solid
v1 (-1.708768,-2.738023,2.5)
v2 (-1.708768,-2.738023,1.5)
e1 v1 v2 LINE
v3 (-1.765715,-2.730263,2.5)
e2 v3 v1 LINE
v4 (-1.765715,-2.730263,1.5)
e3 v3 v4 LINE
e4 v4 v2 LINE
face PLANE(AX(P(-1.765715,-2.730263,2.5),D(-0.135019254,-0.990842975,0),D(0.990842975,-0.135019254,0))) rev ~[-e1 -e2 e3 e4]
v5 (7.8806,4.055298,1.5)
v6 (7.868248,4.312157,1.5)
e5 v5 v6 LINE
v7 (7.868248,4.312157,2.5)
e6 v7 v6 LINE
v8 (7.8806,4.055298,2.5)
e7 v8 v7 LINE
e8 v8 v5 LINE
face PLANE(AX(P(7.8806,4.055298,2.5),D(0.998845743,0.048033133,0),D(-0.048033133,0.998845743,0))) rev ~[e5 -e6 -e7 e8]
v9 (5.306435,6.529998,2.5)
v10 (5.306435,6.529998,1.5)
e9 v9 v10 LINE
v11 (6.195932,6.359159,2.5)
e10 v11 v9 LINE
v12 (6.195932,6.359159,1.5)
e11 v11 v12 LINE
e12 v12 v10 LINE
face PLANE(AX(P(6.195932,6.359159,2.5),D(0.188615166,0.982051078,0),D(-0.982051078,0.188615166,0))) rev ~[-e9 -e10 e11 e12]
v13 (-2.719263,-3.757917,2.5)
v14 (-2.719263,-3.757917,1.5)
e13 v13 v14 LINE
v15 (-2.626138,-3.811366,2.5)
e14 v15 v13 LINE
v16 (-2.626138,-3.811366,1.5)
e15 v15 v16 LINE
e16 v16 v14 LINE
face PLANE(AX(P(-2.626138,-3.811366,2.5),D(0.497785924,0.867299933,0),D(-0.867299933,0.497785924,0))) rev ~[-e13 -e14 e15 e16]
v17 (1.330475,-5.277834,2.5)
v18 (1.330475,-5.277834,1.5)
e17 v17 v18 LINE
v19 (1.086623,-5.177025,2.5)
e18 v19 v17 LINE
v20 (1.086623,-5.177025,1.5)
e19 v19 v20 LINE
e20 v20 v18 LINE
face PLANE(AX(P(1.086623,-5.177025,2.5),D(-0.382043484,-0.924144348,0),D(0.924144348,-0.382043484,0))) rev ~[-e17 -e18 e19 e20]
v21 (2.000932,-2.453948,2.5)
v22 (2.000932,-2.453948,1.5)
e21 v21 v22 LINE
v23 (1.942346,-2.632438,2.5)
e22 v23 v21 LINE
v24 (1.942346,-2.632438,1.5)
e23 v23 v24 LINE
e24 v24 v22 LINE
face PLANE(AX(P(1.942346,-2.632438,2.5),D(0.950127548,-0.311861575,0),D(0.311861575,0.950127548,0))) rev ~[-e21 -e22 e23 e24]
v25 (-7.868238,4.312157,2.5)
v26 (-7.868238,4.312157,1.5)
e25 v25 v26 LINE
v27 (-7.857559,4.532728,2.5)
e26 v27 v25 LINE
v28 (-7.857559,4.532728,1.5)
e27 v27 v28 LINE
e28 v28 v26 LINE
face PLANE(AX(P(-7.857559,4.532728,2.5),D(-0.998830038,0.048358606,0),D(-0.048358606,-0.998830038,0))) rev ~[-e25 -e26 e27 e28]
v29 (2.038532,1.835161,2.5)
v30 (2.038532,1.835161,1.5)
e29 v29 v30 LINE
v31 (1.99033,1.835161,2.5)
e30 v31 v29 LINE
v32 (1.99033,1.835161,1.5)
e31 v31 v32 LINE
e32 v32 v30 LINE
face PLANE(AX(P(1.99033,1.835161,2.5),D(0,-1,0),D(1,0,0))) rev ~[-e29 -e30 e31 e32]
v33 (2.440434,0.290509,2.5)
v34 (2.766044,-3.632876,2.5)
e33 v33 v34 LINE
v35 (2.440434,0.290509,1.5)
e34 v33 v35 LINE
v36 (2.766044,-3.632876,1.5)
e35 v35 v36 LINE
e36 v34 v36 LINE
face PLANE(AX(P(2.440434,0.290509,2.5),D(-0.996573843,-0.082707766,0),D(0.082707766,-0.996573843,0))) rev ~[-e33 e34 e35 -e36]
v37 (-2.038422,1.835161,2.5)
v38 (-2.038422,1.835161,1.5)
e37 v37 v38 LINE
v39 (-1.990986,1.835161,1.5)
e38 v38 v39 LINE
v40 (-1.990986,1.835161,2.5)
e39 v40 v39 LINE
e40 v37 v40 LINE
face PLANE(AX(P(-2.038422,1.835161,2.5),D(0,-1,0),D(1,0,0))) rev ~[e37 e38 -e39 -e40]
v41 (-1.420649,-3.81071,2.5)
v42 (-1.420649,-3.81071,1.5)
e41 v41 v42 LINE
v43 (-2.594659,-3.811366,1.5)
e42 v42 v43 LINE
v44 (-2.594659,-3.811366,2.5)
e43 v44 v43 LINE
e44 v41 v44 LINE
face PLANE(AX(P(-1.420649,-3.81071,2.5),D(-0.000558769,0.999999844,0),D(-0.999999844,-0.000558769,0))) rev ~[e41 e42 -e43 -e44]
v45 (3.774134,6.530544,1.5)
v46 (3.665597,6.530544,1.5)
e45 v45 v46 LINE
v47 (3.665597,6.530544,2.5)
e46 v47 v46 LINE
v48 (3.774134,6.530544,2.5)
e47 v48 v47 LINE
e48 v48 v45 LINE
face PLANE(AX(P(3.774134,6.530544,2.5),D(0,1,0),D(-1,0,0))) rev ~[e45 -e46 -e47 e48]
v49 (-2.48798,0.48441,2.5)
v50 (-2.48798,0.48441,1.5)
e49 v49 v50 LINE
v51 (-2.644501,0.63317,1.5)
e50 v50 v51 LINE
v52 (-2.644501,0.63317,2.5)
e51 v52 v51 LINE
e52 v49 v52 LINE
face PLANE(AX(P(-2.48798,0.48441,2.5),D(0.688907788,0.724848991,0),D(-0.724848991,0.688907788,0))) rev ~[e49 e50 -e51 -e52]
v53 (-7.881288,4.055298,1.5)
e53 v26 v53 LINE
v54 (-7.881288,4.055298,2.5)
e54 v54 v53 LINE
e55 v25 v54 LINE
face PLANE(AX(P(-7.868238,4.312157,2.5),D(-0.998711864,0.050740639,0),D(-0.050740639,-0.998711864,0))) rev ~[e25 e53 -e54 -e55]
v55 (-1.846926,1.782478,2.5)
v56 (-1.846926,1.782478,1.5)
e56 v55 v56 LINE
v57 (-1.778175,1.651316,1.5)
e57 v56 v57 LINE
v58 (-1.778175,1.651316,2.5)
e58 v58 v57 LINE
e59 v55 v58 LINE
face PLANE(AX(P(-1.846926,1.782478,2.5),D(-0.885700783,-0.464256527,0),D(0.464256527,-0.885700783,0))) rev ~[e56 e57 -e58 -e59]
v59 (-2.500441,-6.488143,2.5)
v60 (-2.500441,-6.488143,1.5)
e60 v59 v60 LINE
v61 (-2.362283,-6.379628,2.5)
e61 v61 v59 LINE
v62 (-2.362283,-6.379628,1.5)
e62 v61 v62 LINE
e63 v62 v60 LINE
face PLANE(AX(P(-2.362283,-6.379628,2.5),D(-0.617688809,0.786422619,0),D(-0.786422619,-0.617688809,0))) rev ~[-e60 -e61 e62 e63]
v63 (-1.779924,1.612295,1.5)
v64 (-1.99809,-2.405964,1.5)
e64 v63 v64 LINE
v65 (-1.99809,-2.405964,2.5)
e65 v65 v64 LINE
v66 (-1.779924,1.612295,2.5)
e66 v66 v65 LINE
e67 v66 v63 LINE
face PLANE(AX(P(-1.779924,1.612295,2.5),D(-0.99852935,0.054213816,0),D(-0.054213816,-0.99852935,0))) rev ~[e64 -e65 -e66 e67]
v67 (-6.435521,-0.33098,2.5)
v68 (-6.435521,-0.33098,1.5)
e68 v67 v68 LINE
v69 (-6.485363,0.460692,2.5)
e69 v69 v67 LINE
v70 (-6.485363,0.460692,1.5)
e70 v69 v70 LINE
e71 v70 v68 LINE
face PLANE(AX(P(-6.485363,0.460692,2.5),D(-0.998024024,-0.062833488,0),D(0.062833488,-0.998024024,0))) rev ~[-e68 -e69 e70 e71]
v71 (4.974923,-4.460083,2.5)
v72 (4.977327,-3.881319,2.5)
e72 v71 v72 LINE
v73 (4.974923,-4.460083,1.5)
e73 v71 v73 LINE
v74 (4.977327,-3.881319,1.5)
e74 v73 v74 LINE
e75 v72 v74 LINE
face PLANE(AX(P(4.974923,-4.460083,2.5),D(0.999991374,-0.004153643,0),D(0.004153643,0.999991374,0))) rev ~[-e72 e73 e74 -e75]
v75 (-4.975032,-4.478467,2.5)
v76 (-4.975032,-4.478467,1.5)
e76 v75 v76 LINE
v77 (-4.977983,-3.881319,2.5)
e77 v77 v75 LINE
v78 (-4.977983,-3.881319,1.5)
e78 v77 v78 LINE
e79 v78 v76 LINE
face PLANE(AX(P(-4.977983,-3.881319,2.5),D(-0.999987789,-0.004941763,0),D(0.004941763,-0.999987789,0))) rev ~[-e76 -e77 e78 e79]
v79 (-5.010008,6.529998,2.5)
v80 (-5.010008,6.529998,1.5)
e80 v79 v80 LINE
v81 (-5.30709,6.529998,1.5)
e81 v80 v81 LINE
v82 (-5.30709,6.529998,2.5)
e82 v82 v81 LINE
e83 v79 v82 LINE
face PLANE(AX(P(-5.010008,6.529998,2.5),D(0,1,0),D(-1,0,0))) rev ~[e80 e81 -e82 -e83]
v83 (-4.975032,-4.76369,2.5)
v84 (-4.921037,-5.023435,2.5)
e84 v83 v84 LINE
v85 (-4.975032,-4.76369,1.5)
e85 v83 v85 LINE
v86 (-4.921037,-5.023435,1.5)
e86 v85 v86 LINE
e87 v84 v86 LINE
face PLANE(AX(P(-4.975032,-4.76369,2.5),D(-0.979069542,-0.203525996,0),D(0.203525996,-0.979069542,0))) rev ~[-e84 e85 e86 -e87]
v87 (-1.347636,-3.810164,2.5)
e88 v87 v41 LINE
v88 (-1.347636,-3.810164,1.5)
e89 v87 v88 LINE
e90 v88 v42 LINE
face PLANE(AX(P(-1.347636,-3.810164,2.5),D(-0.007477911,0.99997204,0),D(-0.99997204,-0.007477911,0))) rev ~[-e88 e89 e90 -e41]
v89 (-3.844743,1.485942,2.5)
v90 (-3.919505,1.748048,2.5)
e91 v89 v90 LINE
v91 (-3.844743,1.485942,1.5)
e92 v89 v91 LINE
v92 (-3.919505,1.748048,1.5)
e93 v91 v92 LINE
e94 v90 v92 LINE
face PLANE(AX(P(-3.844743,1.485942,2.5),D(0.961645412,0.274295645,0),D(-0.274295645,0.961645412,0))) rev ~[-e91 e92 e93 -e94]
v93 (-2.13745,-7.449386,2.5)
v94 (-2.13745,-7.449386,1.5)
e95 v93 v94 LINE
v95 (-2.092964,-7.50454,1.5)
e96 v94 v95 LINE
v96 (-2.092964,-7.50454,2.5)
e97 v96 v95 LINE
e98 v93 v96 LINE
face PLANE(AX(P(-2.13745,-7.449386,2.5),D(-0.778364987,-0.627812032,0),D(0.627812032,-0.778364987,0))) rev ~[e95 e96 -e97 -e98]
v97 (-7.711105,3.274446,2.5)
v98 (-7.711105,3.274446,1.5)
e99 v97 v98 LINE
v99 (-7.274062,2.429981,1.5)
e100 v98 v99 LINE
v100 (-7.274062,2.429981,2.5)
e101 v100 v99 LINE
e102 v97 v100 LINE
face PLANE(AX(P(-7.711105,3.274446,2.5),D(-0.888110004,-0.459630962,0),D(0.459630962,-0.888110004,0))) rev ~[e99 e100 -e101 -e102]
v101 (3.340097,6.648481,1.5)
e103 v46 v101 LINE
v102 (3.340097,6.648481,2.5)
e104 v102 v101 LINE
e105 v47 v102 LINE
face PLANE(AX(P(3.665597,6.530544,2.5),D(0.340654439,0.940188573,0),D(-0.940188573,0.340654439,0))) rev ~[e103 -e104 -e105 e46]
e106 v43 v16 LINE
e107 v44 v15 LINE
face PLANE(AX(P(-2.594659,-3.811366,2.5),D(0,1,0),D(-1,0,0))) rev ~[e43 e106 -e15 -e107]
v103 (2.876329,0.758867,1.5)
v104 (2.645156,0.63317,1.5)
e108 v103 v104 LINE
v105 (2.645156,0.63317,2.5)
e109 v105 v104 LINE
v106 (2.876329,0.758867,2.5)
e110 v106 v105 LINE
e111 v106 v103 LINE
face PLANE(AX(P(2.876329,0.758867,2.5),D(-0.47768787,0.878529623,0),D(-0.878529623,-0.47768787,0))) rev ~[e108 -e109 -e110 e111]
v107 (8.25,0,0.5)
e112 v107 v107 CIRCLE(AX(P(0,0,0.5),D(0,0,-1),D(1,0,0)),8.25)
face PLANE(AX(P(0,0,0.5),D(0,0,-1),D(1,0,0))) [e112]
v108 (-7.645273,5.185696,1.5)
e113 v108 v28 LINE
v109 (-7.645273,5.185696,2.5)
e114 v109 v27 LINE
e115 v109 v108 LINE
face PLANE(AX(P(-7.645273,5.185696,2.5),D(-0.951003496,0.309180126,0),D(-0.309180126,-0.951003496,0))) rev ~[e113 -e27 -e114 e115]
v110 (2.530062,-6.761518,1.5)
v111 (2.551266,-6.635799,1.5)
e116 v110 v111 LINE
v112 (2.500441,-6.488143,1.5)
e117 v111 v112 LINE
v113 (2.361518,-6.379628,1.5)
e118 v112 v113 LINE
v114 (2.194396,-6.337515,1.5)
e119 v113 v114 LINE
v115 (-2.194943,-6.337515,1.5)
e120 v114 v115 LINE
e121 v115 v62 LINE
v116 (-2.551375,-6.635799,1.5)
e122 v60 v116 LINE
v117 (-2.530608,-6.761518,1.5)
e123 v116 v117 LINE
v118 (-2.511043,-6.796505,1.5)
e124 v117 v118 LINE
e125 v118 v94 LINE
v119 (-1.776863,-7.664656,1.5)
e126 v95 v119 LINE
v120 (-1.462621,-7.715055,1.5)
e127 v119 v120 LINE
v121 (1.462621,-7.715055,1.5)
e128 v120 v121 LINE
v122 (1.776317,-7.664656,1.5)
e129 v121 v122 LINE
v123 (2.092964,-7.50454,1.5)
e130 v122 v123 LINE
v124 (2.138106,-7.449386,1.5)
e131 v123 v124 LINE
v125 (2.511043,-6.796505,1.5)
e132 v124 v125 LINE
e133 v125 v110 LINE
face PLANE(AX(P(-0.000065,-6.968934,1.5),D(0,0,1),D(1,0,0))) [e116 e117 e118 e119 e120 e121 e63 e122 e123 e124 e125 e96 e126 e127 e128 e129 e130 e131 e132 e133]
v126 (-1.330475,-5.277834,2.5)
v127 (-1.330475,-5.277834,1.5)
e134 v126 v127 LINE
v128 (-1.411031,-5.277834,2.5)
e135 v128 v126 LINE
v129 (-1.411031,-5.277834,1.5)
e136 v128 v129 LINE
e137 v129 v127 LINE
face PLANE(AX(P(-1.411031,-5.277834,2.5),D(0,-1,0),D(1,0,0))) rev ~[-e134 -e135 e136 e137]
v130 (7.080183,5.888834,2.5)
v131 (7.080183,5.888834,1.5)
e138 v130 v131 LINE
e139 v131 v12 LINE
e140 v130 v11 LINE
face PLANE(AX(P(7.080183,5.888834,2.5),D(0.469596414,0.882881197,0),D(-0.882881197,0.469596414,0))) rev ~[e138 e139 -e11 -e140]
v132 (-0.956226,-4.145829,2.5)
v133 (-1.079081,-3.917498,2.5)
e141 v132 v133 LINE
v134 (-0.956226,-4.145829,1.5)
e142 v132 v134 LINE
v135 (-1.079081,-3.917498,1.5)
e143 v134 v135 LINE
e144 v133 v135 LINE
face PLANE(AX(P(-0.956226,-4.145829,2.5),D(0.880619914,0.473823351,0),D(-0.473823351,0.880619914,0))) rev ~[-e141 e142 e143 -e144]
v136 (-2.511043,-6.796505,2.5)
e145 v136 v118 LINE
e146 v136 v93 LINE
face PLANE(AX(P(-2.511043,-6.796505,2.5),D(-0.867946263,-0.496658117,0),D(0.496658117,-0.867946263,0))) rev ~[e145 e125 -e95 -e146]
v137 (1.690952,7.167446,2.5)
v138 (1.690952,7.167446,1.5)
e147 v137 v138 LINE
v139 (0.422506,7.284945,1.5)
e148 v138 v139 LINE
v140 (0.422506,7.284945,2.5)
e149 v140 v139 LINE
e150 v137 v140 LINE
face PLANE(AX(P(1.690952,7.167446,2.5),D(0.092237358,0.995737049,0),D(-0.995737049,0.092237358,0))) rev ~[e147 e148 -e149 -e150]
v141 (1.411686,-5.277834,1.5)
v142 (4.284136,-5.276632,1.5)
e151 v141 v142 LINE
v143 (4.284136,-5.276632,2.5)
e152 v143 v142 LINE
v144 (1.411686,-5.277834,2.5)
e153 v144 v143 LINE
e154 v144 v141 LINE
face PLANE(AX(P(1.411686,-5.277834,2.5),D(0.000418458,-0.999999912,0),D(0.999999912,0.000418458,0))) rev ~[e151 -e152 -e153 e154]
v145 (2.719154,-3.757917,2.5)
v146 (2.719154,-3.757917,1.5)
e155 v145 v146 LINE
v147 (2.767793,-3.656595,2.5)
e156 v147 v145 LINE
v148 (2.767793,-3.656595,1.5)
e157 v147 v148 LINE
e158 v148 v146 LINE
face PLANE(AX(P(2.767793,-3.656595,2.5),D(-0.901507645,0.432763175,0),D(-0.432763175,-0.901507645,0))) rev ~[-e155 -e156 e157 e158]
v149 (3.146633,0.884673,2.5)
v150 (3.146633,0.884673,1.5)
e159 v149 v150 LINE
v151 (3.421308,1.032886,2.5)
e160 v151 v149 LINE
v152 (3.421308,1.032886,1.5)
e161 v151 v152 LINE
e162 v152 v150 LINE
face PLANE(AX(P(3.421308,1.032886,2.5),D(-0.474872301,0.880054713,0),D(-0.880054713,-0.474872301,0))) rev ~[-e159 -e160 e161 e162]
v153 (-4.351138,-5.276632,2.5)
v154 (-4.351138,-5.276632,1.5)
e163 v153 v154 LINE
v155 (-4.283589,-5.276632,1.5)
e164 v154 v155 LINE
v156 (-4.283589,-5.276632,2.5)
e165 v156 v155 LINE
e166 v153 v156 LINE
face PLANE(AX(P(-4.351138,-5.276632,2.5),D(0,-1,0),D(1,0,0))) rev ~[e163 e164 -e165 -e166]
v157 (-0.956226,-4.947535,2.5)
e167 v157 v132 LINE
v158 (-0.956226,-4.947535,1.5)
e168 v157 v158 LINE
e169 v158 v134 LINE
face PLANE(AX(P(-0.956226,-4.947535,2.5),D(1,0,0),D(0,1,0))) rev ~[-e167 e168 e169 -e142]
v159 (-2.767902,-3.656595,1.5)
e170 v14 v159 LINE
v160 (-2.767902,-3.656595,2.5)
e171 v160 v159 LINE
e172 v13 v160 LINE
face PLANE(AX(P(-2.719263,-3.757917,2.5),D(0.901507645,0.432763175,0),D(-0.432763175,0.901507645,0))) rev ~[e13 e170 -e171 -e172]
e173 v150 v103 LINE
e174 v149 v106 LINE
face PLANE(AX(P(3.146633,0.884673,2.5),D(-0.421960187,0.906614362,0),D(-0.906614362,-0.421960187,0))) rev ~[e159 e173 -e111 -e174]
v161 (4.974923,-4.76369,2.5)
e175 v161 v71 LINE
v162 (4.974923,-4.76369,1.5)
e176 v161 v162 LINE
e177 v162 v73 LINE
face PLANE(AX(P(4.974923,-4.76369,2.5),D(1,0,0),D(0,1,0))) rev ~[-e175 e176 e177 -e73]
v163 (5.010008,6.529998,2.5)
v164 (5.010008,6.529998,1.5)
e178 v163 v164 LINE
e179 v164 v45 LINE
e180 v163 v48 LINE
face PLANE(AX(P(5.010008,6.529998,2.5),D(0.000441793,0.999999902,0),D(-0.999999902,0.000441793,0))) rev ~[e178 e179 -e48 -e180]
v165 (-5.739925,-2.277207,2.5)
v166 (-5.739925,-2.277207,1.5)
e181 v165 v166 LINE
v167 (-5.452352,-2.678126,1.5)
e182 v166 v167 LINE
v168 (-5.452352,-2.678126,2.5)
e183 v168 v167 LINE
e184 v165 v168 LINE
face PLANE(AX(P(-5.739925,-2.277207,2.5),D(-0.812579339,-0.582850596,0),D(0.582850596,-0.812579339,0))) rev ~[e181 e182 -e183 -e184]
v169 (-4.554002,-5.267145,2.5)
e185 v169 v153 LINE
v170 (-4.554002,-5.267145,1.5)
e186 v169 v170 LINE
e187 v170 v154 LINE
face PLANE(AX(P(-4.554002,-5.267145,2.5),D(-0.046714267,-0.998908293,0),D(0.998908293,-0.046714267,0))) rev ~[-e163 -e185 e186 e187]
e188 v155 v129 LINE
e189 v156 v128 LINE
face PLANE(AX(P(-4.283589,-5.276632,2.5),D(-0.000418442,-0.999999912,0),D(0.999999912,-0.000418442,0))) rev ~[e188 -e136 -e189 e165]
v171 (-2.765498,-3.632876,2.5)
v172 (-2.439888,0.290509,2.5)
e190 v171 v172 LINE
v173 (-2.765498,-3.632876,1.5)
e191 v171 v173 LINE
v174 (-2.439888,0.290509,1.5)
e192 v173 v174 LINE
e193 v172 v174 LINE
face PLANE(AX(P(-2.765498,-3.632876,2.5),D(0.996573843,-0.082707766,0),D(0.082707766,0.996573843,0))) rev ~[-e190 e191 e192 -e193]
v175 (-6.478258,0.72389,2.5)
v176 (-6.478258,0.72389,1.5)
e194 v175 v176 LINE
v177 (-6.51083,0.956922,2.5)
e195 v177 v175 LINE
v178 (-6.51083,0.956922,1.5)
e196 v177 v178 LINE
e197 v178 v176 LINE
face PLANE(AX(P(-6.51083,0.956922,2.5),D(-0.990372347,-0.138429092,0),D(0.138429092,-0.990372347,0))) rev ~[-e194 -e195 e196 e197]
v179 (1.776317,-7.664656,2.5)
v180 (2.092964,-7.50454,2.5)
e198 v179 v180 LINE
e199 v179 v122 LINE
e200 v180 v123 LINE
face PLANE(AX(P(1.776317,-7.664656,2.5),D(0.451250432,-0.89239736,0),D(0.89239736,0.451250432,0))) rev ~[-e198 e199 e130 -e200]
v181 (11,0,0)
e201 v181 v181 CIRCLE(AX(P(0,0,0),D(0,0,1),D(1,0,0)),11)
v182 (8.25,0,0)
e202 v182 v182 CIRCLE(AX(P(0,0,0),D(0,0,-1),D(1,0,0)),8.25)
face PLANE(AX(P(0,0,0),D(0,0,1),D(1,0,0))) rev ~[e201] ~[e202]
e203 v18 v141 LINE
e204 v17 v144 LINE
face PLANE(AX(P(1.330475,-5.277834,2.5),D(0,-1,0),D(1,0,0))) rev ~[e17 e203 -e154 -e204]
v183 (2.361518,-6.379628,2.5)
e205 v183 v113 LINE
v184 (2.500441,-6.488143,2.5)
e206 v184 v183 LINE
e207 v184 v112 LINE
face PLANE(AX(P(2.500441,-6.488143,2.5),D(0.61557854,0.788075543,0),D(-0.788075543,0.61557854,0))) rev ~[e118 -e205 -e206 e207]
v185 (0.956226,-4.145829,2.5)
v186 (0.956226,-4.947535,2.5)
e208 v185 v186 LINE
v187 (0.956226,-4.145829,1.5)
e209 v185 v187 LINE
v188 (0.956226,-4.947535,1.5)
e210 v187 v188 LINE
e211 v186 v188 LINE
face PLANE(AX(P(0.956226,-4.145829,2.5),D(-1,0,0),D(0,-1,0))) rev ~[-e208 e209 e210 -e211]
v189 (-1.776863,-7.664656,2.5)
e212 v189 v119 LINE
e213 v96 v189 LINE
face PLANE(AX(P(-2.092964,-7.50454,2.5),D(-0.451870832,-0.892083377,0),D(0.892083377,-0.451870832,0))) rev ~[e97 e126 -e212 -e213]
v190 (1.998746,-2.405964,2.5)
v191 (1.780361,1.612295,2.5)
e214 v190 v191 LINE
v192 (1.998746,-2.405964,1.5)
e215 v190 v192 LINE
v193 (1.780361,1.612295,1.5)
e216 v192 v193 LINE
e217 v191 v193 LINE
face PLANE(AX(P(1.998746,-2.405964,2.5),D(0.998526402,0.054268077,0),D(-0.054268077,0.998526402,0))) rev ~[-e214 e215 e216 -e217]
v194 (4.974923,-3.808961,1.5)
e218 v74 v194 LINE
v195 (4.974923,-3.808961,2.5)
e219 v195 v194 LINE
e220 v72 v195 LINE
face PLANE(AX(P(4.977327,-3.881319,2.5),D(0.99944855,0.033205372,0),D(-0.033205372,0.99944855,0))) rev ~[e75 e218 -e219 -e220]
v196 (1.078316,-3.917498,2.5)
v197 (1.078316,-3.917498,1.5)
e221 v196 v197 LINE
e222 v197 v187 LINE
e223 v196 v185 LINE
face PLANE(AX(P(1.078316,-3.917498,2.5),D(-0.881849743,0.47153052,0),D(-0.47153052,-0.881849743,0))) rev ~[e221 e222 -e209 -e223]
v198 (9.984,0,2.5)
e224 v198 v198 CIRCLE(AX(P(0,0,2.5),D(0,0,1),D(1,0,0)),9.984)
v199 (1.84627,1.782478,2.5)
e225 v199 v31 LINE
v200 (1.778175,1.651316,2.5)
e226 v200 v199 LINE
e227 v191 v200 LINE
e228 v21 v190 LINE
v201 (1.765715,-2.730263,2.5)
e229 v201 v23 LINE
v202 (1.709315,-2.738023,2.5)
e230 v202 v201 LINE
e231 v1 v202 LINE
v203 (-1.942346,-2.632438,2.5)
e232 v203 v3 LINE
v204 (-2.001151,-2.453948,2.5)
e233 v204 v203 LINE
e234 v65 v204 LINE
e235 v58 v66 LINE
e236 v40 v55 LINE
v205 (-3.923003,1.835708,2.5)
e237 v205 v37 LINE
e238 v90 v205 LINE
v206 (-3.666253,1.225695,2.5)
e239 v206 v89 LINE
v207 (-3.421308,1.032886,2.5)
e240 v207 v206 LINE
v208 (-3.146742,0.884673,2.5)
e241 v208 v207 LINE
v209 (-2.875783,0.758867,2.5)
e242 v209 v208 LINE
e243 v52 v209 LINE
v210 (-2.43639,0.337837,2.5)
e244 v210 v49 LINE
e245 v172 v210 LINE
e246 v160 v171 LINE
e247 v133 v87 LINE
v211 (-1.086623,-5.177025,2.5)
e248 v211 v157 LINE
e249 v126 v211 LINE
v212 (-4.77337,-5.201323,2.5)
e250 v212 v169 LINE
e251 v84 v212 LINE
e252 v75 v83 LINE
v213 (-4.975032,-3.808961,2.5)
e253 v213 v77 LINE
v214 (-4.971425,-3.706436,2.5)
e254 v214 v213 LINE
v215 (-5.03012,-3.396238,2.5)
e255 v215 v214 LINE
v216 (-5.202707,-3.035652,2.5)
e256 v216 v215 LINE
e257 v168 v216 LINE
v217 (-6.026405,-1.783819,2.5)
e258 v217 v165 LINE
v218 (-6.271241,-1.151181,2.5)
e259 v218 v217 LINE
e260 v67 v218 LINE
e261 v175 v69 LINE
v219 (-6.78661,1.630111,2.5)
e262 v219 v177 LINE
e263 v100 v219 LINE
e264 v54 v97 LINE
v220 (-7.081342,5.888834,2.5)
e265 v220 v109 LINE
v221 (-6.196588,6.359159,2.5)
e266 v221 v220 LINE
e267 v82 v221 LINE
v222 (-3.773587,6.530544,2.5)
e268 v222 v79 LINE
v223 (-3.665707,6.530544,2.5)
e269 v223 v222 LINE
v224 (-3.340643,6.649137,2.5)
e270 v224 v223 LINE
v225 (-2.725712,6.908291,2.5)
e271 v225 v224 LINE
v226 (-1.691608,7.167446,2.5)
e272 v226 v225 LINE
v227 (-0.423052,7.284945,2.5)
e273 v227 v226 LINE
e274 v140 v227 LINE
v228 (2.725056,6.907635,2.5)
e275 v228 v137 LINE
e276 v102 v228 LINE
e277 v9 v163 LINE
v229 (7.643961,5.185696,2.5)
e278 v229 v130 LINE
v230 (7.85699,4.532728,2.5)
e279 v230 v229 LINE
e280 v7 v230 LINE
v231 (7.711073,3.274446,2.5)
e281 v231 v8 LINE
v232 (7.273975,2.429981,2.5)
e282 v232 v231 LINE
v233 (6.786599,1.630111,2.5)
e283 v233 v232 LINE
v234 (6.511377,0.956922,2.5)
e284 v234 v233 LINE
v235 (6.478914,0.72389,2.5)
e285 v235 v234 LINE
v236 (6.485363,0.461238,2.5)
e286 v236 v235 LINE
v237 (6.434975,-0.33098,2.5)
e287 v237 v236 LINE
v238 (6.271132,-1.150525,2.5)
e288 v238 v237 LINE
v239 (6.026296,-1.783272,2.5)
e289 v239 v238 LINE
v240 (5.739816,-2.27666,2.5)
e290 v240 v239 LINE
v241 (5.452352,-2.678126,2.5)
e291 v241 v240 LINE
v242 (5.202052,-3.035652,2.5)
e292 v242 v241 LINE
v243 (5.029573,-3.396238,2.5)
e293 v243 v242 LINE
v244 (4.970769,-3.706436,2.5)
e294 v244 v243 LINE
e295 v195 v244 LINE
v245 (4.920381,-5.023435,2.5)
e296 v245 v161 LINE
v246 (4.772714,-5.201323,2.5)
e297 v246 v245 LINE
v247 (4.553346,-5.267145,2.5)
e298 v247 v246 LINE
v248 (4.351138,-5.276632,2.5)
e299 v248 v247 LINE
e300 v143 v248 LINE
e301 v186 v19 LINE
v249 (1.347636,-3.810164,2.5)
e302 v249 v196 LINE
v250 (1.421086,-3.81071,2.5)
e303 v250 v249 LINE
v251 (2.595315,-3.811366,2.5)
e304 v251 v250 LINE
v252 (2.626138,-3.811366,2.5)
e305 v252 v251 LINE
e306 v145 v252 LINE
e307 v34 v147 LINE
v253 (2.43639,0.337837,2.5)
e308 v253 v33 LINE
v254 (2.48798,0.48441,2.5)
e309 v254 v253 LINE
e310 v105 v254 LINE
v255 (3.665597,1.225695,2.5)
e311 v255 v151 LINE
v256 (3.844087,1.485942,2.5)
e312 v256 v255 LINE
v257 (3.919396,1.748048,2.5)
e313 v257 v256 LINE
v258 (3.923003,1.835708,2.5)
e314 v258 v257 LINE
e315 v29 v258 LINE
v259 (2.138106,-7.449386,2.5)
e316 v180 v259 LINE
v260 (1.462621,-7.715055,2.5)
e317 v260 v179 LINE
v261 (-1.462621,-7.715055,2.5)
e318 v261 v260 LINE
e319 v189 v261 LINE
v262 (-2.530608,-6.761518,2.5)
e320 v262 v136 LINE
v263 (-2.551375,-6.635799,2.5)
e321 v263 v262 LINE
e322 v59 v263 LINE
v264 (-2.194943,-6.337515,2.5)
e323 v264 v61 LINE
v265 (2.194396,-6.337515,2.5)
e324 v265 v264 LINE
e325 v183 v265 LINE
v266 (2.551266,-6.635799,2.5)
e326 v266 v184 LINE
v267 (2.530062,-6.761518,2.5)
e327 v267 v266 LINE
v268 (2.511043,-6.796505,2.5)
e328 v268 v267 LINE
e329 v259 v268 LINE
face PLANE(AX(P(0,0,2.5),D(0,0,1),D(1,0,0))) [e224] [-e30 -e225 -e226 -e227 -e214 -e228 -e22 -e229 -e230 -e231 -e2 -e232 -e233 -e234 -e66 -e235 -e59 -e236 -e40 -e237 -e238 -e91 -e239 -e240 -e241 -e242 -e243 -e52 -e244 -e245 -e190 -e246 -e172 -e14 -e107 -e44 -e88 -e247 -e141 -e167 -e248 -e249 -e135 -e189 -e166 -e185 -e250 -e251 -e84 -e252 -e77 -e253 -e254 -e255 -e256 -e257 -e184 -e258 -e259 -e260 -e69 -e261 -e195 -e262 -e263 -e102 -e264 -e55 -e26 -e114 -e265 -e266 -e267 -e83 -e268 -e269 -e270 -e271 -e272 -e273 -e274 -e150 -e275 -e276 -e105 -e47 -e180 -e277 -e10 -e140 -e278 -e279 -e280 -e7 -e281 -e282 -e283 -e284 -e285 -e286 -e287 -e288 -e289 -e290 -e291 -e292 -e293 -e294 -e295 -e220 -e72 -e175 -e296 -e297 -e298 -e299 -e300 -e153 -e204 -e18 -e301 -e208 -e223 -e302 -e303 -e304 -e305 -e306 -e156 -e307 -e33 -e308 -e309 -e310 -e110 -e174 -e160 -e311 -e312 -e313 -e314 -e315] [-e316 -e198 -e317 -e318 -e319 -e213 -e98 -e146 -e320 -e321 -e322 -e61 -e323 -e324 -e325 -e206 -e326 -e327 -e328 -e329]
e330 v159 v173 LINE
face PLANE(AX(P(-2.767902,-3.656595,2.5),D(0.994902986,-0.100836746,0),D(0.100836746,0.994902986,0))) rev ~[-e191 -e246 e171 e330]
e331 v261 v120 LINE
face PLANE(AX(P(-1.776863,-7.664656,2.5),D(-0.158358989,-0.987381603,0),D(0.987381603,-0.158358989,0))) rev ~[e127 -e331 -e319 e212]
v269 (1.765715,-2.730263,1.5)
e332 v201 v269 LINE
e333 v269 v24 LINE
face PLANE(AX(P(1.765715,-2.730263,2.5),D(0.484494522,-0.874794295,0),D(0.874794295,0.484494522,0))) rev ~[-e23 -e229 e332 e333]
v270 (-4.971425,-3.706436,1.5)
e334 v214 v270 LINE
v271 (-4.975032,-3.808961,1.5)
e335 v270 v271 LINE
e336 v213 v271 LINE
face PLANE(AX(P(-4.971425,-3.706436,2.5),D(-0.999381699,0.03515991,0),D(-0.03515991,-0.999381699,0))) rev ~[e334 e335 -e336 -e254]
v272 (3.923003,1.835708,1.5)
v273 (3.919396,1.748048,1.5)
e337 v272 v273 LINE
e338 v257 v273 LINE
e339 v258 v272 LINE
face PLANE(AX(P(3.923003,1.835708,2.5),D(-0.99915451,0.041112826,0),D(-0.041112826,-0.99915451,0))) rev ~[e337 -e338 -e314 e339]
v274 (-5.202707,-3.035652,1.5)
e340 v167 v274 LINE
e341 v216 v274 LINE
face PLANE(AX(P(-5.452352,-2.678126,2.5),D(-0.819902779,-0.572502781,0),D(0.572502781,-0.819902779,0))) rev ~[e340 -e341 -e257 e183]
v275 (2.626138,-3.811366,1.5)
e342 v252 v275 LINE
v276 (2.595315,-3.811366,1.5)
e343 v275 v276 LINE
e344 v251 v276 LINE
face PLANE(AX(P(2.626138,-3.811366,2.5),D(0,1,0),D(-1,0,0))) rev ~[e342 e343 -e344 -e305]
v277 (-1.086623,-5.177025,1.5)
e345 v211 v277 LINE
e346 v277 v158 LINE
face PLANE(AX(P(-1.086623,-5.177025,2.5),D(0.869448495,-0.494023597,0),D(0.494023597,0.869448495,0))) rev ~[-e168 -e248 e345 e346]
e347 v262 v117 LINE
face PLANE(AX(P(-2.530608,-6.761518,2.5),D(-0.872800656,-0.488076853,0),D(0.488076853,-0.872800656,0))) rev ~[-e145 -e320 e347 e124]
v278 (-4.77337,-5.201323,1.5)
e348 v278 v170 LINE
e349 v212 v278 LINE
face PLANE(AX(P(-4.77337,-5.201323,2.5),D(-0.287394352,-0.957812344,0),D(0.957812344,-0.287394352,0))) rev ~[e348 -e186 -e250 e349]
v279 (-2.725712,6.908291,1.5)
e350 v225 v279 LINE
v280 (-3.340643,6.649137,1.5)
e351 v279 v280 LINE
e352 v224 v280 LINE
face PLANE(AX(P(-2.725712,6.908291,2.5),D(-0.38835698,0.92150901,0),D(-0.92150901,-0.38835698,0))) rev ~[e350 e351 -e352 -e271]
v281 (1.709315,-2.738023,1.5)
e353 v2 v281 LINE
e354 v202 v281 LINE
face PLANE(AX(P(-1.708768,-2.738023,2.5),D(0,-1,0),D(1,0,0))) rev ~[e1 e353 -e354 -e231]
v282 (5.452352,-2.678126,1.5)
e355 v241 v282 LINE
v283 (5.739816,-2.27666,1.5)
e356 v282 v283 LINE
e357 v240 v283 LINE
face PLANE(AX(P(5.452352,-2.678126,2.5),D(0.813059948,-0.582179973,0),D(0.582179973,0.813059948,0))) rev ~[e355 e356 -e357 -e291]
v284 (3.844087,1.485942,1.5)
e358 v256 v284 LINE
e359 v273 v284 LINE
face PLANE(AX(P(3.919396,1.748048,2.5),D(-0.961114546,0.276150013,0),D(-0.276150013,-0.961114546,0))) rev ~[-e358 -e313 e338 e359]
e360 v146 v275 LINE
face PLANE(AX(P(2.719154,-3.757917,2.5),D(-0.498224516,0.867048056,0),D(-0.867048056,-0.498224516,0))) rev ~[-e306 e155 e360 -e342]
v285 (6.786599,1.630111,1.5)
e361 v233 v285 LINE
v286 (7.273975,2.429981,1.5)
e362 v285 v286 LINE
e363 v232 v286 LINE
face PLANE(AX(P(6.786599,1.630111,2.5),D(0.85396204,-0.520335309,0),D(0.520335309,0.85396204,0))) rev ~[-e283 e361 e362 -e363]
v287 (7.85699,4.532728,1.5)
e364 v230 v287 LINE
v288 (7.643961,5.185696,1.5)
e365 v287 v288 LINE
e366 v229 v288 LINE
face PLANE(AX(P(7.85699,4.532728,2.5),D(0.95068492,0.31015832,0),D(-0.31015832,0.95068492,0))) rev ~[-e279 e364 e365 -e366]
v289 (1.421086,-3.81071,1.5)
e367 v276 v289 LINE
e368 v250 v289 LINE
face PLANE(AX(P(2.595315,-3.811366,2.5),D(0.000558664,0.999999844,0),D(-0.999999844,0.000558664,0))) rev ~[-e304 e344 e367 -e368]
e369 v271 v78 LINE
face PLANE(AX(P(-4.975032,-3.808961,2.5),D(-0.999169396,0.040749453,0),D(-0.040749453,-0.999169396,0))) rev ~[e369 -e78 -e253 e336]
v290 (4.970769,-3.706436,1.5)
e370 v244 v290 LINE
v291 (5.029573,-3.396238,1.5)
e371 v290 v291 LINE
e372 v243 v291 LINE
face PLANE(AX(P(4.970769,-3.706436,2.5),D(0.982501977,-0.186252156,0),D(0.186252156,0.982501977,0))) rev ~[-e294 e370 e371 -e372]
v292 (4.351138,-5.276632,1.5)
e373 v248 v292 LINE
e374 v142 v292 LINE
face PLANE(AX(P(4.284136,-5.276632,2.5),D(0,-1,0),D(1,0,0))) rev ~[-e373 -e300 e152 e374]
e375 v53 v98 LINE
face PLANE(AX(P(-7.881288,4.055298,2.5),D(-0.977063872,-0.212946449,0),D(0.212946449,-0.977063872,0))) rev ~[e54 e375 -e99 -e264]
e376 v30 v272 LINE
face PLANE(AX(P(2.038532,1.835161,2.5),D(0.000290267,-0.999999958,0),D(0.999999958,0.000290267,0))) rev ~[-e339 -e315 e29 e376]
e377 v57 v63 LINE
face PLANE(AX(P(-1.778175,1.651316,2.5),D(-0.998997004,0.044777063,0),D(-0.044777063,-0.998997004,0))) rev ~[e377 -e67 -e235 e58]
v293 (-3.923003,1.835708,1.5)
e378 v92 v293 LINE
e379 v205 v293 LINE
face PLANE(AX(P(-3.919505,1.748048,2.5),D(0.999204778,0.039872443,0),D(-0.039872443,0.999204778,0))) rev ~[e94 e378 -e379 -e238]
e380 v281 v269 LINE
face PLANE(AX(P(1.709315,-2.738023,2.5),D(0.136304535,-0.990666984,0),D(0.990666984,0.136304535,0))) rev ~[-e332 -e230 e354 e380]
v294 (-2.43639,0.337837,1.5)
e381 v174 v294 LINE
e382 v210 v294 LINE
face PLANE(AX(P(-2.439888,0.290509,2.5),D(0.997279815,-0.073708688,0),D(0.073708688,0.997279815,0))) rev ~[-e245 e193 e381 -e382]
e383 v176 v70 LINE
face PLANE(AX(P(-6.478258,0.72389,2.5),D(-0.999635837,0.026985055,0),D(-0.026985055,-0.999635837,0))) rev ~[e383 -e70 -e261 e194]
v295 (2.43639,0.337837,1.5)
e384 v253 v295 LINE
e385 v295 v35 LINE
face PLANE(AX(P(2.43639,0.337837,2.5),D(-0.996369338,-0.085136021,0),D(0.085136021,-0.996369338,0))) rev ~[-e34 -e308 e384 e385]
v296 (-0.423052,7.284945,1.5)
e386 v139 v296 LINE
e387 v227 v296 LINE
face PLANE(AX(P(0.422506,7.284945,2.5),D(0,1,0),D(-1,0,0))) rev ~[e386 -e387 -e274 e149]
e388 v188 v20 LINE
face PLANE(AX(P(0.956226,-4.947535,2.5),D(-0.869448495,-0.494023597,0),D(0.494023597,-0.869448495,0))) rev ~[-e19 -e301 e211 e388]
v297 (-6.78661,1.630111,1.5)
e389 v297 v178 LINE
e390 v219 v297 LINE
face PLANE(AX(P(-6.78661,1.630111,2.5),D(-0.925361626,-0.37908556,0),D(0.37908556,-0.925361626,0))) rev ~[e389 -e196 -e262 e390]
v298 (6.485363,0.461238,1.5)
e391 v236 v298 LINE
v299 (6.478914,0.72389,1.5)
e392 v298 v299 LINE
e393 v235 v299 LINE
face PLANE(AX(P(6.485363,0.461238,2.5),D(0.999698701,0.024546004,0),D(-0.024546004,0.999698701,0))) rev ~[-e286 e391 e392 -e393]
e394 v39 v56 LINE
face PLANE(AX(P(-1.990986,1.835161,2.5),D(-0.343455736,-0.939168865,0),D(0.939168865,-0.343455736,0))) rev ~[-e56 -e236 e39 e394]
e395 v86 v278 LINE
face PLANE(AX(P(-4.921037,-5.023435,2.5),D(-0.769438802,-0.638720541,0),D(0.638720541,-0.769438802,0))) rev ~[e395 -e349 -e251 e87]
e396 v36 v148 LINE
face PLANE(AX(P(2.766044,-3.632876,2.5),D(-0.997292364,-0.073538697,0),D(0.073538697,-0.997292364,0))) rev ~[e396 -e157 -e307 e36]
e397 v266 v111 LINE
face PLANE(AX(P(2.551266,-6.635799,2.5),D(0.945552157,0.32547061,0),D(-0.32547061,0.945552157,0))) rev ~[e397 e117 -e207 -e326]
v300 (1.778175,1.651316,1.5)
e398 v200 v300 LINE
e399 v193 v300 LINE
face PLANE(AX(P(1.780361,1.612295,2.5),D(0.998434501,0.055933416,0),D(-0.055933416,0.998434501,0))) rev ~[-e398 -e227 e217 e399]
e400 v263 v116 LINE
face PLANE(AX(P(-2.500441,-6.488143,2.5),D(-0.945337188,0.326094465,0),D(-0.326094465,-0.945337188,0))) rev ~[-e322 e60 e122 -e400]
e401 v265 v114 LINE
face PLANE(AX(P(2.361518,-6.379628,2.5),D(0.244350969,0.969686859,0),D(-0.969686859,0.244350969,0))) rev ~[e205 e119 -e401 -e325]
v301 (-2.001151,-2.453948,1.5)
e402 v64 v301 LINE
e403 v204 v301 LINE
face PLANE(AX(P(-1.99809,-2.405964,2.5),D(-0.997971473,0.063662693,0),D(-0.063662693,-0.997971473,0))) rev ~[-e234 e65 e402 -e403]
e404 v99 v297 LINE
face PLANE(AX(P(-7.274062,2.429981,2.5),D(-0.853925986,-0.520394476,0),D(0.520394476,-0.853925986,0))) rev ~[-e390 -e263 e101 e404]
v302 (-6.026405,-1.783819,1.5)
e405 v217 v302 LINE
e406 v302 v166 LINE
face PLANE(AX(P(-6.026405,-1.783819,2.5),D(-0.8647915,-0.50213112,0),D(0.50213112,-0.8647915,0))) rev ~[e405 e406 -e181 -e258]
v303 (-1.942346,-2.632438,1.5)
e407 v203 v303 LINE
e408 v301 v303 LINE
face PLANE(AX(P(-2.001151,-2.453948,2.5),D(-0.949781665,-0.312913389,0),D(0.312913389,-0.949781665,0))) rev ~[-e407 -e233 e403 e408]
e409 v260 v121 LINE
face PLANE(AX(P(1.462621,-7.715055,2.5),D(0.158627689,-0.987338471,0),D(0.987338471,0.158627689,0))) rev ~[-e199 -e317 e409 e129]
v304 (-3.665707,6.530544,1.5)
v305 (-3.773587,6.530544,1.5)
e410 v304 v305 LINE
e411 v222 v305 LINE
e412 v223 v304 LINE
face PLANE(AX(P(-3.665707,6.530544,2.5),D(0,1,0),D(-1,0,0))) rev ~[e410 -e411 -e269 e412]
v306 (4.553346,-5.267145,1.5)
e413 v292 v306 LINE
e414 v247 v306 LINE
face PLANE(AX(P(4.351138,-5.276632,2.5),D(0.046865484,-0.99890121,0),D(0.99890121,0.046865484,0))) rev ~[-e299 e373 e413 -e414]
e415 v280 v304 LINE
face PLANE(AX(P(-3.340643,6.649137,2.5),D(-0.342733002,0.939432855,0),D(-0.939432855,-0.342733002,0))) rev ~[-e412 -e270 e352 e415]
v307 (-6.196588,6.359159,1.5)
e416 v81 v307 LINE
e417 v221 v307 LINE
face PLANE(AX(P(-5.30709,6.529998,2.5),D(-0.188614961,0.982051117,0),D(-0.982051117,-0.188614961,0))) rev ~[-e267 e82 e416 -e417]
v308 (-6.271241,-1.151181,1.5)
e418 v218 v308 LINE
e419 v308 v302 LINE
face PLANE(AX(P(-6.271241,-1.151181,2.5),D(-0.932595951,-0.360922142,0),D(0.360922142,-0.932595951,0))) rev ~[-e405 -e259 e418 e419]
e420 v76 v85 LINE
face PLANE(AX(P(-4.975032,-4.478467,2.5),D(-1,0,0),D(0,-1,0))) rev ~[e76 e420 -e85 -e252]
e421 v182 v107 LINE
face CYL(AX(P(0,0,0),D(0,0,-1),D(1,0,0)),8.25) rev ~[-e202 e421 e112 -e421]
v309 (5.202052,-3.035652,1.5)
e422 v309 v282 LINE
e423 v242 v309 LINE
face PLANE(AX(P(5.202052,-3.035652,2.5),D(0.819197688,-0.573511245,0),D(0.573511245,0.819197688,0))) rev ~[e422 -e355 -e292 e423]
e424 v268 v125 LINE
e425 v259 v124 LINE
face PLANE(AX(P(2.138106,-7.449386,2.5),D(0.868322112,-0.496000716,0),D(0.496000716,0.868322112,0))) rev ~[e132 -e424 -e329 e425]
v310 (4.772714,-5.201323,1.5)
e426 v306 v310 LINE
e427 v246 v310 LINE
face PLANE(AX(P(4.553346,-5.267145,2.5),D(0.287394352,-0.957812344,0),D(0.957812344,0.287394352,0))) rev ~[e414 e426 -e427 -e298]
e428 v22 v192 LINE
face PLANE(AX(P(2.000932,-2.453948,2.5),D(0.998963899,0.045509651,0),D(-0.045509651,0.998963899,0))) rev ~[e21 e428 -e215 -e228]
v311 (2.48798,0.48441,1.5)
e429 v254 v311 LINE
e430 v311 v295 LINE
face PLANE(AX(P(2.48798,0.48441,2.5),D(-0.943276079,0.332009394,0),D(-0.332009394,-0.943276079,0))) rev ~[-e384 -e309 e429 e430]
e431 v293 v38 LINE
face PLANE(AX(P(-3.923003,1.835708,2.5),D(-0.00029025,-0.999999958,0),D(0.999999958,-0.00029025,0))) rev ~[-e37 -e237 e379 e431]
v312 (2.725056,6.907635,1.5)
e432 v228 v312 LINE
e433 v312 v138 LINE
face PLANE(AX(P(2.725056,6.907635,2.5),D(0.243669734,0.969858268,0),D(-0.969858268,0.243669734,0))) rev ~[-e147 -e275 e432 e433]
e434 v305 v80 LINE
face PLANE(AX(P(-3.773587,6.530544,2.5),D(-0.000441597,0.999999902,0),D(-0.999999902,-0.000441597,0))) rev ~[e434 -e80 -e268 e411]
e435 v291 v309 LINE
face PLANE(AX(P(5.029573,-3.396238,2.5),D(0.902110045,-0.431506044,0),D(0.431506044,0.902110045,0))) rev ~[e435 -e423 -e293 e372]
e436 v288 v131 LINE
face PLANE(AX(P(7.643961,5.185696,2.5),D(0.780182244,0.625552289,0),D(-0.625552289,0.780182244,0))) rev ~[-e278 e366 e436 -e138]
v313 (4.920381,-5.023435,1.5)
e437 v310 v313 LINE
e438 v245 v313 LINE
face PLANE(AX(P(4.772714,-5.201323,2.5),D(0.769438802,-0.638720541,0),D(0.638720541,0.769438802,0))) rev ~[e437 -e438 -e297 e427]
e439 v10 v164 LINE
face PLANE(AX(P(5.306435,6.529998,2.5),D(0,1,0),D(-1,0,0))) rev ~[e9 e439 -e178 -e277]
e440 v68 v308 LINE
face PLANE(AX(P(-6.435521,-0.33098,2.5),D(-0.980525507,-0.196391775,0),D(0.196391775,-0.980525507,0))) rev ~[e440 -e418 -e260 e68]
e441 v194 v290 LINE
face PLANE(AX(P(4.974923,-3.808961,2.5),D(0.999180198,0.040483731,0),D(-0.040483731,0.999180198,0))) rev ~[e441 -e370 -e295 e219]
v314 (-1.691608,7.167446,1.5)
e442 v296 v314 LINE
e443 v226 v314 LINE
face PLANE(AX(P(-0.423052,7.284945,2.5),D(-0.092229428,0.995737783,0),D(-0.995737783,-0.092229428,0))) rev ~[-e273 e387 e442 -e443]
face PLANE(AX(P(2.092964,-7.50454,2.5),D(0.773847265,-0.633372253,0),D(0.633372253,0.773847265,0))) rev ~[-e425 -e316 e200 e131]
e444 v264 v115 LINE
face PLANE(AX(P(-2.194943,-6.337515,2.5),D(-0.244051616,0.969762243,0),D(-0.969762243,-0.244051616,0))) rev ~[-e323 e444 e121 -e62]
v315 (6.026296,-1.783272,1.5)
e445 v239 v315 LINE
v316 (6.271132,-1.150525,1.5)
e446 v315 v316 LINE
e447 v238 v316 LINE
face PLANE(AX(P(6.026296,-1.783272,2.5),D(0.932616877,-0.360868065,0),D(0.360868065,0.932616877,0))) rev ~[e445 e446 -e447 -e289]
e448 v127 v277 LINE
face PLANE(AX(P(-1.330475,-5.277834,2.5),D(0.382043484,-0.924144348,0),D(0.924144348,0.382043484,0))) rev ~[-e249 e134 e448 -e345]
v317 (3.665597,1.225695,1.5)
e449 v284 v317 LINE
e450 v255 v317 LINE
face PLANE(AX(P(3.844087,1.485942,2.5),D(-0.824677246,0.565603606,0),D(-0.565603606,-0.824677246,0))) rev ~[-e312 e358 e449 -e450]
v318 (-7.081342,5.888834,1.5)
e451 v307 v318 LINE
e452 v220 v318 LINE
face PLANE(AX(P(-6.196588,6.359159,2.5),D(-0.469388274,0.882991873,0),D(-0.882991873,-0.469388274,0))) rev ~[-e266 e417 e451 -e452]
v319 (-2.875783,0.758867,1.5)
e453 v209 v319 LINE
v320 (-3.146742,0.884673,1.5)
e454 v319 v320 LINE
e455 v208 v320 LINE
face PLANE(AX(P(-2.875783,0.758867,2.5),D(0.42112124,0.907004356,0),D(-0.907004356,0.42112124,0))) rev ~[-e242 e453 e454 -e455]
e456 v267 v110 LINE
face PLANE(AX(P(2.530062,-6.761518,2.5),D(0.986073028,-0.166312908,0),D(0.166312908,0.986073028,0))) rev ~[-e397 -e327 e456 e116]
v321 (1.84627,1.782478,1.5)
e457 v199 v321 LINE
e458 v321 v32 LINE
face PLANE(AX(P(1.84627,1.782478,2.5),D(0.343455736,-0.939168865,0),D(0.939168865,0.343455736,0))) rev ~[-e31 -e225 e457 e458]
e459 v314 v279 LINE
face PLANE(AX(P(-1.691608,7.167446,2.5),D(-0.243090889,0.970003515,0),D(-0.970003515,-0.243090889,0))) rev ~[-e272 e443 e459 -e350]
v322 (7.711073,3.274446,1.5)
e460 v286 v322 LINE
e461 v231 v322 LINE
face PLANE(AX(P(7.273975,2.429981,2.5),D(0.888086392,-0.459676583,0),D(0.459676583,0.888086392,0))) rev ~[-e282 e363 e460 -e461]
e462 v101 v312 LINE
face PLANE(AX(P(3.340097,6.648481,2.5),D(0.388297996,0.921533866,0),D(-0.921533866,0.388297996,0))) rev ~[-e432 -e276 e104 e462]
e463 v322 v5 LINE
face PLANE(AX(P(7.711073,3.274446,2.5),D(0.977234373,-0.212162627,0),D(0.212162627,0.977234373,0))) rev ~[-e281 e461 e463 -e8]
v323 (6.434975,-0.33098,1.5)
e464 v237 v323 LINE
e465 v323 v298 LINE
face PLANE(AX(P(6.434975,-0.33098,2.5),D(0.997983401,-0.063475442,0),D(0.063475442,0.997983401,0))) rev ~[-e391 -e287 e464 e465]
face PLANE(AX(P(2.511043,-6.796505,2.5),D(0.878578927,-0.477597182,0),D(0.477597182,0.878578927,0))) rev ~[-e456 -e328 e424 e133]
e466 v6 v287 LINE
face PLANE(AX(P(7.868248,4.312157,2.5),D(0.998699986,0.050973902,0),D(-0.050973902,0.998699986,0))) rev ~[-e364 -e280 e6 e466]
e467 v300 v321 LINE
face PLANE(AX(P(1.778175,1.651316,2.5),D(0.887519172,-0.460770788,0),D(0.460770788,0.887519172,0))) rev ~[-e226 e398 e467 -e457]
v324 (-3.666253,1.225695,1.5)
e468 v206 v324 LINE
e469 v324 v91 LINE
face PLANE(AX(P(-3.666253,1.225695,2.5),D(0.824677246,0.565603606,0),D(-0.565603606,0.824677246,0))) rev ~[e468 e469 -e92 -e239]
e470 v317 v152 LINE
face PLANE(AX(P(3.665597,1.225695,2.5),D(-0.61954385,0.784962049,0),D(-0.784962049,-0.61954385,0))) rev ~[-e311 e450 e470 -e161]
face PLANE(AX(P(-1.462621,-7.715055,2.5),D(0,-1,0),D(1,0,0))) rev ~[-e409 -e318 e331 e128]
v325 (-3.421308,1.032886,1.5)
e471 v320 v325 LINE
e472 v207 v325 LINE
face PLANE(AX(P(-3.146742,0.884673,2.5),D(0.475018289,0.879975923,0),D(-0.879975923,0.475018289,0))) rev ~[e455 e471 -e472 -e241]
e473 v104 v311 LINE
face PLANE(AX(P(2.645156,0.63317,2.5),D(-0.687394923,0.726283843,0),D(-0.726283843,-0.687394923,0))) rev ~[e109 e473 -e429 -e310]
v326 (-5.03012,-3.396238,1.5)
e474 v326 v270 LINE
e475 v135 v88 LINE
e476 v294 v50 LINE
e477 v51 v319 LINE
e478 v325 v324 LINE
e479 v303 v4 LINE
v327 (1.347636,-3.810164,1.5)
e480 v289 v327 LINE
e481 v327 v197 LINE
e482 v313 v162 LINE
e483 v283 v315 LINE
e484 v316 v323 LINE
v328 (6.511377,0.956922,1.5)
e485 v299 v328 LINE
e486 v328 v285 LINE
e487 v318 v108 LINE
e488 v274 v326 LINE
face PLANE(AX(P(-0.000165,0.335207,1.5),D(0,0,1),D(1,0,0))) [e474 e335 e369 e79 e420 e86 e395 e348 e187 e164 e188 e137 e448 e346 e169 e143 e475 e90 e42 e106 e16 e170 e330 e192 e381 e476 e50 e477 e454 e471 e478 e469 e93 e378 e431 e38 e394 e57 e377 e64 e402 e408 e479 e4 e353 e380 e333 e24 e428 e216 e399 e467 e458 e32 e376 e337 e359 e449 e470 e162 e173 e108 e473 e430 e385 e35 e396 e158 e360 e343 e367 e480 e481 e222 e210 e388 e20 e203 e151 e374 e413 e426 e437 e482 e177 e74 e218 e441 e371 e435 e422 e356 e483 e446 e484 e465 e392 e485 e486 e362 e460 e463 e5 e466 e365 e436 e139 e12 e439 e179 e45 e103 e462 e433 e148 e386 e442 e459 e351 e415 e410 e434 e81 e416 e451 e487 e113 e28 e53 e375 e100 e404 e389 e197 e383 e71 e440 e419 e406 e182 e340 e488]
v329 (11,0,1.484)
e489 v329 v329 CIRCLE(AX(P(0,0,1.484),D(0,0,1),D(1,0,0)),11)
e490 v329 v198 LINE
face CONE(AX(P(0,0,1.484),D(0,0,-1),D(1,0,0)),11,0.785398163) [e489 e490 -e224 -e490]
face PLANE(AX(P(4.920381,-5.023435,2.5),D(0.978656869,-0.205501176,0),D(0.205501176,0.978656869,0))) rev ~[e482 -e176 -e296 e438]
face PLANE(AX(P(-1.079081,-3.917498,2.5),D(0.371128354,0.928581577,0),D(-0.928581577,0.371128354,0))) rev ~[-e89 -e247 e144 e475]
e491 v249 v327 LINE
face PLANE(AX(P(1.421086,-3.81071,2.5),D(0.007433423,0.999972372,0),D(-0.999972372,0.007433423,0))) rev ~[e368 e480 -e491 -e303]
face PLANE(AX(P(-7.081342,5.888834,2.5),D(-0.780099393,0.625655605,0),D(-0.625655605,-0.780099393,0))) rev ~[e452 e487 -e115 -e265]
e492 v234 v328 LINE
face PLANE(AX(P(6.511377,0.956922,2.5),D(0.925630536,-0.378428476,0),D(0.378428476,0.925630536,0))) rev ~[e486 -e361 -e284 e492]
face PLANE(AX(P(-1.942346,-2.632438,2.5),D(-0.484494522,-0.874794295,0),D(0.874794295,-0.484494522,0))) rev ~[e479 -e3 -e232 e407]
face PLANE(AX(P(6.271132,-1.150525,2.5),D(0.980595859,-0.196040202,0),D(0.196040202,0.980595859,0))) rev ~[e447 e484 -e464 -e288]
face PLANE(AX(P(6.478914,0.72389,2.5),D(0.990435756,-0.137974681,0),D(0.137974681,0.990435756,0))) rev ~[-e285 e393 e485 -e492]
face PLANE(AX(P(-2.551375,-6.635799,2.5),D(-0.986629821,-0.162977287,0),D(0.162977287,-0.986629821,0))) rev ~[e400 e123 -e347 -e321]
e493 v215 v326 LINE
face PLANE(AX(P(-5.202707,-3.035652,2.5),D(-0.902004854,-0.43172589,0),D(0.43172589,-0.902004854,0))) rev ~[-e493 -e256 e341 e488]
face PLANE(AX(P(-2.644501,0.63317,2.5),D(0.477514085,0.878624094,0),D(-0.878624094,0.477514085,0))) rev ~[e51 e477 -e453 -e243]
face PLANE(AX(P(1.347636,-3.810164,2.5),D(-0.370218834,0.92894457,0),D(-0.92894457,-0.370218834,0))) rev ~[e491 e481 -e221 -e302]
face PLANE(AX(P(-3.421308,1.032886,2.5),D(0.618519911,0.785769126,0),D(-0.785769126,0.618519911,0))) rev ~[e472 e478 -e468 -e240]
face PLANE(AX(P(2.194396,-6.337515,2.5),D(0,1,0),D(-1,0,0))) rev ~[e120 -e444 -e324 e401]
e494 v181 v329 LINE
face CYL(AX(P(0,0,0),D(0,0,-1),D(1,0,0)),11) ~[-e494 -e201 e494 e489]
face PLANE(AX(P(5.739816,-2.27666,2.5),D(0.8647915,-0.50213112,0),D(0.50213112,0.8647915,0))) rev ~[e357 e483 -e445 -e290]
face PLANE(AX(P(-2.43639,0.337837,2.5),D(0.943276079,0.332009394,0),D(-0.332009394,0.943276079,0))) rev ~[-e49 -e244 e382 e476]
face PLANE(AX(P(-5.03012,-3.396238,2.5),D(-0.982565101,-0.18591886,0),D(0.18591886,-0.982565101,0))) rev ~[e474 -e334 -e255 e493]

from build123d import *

# Parameters (mm, degrees)
F0_R     = 11
F1_DEPTH = 2.5
F3_DEPTH = 1
F4_SIZE  = 1.016
F5_R     = 8.25
F6_DEPTH = 0.5


with BuildPart() as f1:
    # F0 (on Top) → F1 (new body)
    with BuildSketch(Plane.XY):
        Circle(F0_R)
    extrude(amount=F1_DEPTH)

    # F2 (on face) → F3 (cut)
    with BuildSketch(Plane.XY.offset(2.5)):
        Polygon((-1.708768, -2.738023), (1.709315, -2.738023), (1.765715, -2.730263), (1.942346, -2.632438), (2.000932, -2.453948), (1.998746, -2.405964), (1.780361, 1.612295), (1.778175, 1.651316), (1.84627, 1.782478), (1.99033, 1.835161), (2.038532, 1.835161), (3.923003, 1.835708), (3.919396, 1.748048), (3.844087, 1.485942), (3.665597, 1.225695), (3.421308, 1.032886), (3.146633, 0.884673), (2.876329, 0.758867), (2.645156, 0.63317), (2.48798, 0.48441), (2.43639, 0.337837), (2.440434, 0.290509), (2.766044, -3.632876), (2.767793, -3.656595), (2.719154, -3.757917), (2.626138, -3.811366), (2.595315, -3.811366), (1.421086, -3.81071), (1.347636, -3.810164), (1.078316, -3.917498), (0.956226, -4.145829), (0.956226, -4.222286), (0.956226, -4.871625), (0.956226, -4.947535), (1.086623, -5.177025), (1.330475, -5.277834), (1.411686, -5.277834), (4.284136, -5.276632), (4.351138, -5.276632), (4.553346, -5.267145), (4.772714, -5.201323), (4.920381, -5.023435), (4.974923, -4.76369), (4.974923, -4.677713), (4.974923, -4.460083), (4.977327, -3.881319), (4.974923, -3.808961), (4.970769, -3.706436), (5.029573, -3.396238), (5.202052, -3.035652), (5.452352, -2.678126), (5.739816, -2.27666), (6.026296, -1.783272), (6.271132, -1.150525), (6.434975, -0.33098), (6.485363, 0.461238), (6.478914, 0.72389), (6.511377, 0.956922), (6.786599, 1.630111), (7.273975, 2.429981), (7.711073, 3.274446), (7.8806, 4.055298), (7.868248, 4.312157), (7.85699, 4.532728), (7.643961, 5.185696), (7.080183, 5.888834), (6.195932, 6.359159), (5.306435, 6.529998), (5.010008, 6.529998), (3.774134, 6.530544), (3.665597, 6.530544), (3.340097, 6.648481), (2.725056, 6.907635), (1.690952, 7.167446), (0.422506, 7.284945), (0.000273, 7.284945), (-0.423052, 7.284945), (-1.691608, 7.167446), (-2.725712, 6.908291), (-3.340643, 6.649137), (-3.665707, 6.530544), (-3.773587, 6.530544), (-5.010008, 6.529998), (-5.30709, 6.529998), (-6.196588, 6.359159), (-7.081342, 5.888834), (-7.645273, 5.185696), (-7.857559, 4.532728), (-7.868238, 4.312157), (-7.881288, 4.055298), (-7.711105, 3.274446), (-7.274062, 2.429981), (-6.78661, 1.630111), (-6.51083, 0.956922), (-6.478258, 0.72389), (-6.485363, 0.460692), (-6.435521, -0.33098), (-6.271241, -1.151181), (-6.026405, -1.783819), (-5.739925, -2.277207), (-5.452352, -2.678126), (-5.202707, -3.035652), (-5.03012, -3.396238), (-4.971425, -3.706436), (-4.975032, -3.808961), (-4.977983, -3.881319), (-4.975032, -4.478467), (-4.975032, -4.677713), (-4.975032, -4.76369), (-4.921037, -5.023435), (-4.77337, -5.201323), (-4.554002, -5.267145), (-4.351138, -5.276632), (-4.283589, -5.276632), (-1.411031, -5.277834), (-1.330475, -5.277834), (-1.086623, -5.177025), (-0.956226, -4.947535), (-0.956226, -4.871625), (-0.956226, -4.222286), (-0.956226, -4.145829), (-1.079081, -3.917498), (-1.347636, -3.810164), (-1.420649, -3.81071), (-2.594659, -3.811366), (-2.626138, -3.811366), (-2.719263, -3.757917), (-2.767902, -3.656595), (-2.765498, -3.632876), (-2.439888, 0.290509), (-2.43639, 0.337837), (-2.48798, 0.48441), (-2.644501, 0.63317), (-2.875783, 0.758867), (-3.146742, 0.884673), (-3.421308, 1.032886), (-3.666253, 1.225695), (-3.844743, 1.485942), (-3.919505, 1.748048), (-3.923003, 1.835708), (-2.038422, 1.835161), (-1.990986, 1.835161), (-1.846926, 1.782478), (-1.778175, 1.651316), (-1.779924, 1.612295), (-1.99809, -2.405964), (-2.001151, -2.453948), (-1.942346, -2.632438), (-1.765715, -2.730263), align=None)
        Polygon((-1.357801, -7.715055), (1.358238, -7.715055), (1.462621, -7.715055), (1.776317, -7.664656), (2.092964, -7.50454), (2.138106, -7.449386), (2.511043, -6.796505), (2.530062, -6.761518), (2.551266, -6.635799), (2.500441, -6.488143), (2.361518, -6.379628), (2.194396, -6.337515), (2.139308, -6.337515), (-2.138652, -6.337515), (-2.194943, -6.337515), (-2.362283, -6.379628), (-2.500441, -6.488143), (-2.551375, -6.635799), (-2.530608, -6.761518), (-2.511043, -6.796505), (-2.13745, -7.449386), (-2.092964, -7.50454), (-1.776863, -7.664656), (-1.462621, -7.715055), align=None)
    extrude(amount=-F3_DEPTH, mode=Mode.SUBTRACT)

    # F4
    f4_edges = [f1.edges().sort_by_distance(p)[0] for p in [
        (-11, 0, 2.5),
    ]]
    chamfer(f4_edges, length=F4_SIZE)

    # F5 (on face) → F6 (cut)
    with BuildSketch(Plane(origin=(0, 0, 0), x_dir=(1, 0, 0), z_dir=(0, 0, -1))):
        Circle(F5_R)
    extrude(amount=-F6_DEPTH, mode=Mode.SUBTRACT)


solid = f1.part
